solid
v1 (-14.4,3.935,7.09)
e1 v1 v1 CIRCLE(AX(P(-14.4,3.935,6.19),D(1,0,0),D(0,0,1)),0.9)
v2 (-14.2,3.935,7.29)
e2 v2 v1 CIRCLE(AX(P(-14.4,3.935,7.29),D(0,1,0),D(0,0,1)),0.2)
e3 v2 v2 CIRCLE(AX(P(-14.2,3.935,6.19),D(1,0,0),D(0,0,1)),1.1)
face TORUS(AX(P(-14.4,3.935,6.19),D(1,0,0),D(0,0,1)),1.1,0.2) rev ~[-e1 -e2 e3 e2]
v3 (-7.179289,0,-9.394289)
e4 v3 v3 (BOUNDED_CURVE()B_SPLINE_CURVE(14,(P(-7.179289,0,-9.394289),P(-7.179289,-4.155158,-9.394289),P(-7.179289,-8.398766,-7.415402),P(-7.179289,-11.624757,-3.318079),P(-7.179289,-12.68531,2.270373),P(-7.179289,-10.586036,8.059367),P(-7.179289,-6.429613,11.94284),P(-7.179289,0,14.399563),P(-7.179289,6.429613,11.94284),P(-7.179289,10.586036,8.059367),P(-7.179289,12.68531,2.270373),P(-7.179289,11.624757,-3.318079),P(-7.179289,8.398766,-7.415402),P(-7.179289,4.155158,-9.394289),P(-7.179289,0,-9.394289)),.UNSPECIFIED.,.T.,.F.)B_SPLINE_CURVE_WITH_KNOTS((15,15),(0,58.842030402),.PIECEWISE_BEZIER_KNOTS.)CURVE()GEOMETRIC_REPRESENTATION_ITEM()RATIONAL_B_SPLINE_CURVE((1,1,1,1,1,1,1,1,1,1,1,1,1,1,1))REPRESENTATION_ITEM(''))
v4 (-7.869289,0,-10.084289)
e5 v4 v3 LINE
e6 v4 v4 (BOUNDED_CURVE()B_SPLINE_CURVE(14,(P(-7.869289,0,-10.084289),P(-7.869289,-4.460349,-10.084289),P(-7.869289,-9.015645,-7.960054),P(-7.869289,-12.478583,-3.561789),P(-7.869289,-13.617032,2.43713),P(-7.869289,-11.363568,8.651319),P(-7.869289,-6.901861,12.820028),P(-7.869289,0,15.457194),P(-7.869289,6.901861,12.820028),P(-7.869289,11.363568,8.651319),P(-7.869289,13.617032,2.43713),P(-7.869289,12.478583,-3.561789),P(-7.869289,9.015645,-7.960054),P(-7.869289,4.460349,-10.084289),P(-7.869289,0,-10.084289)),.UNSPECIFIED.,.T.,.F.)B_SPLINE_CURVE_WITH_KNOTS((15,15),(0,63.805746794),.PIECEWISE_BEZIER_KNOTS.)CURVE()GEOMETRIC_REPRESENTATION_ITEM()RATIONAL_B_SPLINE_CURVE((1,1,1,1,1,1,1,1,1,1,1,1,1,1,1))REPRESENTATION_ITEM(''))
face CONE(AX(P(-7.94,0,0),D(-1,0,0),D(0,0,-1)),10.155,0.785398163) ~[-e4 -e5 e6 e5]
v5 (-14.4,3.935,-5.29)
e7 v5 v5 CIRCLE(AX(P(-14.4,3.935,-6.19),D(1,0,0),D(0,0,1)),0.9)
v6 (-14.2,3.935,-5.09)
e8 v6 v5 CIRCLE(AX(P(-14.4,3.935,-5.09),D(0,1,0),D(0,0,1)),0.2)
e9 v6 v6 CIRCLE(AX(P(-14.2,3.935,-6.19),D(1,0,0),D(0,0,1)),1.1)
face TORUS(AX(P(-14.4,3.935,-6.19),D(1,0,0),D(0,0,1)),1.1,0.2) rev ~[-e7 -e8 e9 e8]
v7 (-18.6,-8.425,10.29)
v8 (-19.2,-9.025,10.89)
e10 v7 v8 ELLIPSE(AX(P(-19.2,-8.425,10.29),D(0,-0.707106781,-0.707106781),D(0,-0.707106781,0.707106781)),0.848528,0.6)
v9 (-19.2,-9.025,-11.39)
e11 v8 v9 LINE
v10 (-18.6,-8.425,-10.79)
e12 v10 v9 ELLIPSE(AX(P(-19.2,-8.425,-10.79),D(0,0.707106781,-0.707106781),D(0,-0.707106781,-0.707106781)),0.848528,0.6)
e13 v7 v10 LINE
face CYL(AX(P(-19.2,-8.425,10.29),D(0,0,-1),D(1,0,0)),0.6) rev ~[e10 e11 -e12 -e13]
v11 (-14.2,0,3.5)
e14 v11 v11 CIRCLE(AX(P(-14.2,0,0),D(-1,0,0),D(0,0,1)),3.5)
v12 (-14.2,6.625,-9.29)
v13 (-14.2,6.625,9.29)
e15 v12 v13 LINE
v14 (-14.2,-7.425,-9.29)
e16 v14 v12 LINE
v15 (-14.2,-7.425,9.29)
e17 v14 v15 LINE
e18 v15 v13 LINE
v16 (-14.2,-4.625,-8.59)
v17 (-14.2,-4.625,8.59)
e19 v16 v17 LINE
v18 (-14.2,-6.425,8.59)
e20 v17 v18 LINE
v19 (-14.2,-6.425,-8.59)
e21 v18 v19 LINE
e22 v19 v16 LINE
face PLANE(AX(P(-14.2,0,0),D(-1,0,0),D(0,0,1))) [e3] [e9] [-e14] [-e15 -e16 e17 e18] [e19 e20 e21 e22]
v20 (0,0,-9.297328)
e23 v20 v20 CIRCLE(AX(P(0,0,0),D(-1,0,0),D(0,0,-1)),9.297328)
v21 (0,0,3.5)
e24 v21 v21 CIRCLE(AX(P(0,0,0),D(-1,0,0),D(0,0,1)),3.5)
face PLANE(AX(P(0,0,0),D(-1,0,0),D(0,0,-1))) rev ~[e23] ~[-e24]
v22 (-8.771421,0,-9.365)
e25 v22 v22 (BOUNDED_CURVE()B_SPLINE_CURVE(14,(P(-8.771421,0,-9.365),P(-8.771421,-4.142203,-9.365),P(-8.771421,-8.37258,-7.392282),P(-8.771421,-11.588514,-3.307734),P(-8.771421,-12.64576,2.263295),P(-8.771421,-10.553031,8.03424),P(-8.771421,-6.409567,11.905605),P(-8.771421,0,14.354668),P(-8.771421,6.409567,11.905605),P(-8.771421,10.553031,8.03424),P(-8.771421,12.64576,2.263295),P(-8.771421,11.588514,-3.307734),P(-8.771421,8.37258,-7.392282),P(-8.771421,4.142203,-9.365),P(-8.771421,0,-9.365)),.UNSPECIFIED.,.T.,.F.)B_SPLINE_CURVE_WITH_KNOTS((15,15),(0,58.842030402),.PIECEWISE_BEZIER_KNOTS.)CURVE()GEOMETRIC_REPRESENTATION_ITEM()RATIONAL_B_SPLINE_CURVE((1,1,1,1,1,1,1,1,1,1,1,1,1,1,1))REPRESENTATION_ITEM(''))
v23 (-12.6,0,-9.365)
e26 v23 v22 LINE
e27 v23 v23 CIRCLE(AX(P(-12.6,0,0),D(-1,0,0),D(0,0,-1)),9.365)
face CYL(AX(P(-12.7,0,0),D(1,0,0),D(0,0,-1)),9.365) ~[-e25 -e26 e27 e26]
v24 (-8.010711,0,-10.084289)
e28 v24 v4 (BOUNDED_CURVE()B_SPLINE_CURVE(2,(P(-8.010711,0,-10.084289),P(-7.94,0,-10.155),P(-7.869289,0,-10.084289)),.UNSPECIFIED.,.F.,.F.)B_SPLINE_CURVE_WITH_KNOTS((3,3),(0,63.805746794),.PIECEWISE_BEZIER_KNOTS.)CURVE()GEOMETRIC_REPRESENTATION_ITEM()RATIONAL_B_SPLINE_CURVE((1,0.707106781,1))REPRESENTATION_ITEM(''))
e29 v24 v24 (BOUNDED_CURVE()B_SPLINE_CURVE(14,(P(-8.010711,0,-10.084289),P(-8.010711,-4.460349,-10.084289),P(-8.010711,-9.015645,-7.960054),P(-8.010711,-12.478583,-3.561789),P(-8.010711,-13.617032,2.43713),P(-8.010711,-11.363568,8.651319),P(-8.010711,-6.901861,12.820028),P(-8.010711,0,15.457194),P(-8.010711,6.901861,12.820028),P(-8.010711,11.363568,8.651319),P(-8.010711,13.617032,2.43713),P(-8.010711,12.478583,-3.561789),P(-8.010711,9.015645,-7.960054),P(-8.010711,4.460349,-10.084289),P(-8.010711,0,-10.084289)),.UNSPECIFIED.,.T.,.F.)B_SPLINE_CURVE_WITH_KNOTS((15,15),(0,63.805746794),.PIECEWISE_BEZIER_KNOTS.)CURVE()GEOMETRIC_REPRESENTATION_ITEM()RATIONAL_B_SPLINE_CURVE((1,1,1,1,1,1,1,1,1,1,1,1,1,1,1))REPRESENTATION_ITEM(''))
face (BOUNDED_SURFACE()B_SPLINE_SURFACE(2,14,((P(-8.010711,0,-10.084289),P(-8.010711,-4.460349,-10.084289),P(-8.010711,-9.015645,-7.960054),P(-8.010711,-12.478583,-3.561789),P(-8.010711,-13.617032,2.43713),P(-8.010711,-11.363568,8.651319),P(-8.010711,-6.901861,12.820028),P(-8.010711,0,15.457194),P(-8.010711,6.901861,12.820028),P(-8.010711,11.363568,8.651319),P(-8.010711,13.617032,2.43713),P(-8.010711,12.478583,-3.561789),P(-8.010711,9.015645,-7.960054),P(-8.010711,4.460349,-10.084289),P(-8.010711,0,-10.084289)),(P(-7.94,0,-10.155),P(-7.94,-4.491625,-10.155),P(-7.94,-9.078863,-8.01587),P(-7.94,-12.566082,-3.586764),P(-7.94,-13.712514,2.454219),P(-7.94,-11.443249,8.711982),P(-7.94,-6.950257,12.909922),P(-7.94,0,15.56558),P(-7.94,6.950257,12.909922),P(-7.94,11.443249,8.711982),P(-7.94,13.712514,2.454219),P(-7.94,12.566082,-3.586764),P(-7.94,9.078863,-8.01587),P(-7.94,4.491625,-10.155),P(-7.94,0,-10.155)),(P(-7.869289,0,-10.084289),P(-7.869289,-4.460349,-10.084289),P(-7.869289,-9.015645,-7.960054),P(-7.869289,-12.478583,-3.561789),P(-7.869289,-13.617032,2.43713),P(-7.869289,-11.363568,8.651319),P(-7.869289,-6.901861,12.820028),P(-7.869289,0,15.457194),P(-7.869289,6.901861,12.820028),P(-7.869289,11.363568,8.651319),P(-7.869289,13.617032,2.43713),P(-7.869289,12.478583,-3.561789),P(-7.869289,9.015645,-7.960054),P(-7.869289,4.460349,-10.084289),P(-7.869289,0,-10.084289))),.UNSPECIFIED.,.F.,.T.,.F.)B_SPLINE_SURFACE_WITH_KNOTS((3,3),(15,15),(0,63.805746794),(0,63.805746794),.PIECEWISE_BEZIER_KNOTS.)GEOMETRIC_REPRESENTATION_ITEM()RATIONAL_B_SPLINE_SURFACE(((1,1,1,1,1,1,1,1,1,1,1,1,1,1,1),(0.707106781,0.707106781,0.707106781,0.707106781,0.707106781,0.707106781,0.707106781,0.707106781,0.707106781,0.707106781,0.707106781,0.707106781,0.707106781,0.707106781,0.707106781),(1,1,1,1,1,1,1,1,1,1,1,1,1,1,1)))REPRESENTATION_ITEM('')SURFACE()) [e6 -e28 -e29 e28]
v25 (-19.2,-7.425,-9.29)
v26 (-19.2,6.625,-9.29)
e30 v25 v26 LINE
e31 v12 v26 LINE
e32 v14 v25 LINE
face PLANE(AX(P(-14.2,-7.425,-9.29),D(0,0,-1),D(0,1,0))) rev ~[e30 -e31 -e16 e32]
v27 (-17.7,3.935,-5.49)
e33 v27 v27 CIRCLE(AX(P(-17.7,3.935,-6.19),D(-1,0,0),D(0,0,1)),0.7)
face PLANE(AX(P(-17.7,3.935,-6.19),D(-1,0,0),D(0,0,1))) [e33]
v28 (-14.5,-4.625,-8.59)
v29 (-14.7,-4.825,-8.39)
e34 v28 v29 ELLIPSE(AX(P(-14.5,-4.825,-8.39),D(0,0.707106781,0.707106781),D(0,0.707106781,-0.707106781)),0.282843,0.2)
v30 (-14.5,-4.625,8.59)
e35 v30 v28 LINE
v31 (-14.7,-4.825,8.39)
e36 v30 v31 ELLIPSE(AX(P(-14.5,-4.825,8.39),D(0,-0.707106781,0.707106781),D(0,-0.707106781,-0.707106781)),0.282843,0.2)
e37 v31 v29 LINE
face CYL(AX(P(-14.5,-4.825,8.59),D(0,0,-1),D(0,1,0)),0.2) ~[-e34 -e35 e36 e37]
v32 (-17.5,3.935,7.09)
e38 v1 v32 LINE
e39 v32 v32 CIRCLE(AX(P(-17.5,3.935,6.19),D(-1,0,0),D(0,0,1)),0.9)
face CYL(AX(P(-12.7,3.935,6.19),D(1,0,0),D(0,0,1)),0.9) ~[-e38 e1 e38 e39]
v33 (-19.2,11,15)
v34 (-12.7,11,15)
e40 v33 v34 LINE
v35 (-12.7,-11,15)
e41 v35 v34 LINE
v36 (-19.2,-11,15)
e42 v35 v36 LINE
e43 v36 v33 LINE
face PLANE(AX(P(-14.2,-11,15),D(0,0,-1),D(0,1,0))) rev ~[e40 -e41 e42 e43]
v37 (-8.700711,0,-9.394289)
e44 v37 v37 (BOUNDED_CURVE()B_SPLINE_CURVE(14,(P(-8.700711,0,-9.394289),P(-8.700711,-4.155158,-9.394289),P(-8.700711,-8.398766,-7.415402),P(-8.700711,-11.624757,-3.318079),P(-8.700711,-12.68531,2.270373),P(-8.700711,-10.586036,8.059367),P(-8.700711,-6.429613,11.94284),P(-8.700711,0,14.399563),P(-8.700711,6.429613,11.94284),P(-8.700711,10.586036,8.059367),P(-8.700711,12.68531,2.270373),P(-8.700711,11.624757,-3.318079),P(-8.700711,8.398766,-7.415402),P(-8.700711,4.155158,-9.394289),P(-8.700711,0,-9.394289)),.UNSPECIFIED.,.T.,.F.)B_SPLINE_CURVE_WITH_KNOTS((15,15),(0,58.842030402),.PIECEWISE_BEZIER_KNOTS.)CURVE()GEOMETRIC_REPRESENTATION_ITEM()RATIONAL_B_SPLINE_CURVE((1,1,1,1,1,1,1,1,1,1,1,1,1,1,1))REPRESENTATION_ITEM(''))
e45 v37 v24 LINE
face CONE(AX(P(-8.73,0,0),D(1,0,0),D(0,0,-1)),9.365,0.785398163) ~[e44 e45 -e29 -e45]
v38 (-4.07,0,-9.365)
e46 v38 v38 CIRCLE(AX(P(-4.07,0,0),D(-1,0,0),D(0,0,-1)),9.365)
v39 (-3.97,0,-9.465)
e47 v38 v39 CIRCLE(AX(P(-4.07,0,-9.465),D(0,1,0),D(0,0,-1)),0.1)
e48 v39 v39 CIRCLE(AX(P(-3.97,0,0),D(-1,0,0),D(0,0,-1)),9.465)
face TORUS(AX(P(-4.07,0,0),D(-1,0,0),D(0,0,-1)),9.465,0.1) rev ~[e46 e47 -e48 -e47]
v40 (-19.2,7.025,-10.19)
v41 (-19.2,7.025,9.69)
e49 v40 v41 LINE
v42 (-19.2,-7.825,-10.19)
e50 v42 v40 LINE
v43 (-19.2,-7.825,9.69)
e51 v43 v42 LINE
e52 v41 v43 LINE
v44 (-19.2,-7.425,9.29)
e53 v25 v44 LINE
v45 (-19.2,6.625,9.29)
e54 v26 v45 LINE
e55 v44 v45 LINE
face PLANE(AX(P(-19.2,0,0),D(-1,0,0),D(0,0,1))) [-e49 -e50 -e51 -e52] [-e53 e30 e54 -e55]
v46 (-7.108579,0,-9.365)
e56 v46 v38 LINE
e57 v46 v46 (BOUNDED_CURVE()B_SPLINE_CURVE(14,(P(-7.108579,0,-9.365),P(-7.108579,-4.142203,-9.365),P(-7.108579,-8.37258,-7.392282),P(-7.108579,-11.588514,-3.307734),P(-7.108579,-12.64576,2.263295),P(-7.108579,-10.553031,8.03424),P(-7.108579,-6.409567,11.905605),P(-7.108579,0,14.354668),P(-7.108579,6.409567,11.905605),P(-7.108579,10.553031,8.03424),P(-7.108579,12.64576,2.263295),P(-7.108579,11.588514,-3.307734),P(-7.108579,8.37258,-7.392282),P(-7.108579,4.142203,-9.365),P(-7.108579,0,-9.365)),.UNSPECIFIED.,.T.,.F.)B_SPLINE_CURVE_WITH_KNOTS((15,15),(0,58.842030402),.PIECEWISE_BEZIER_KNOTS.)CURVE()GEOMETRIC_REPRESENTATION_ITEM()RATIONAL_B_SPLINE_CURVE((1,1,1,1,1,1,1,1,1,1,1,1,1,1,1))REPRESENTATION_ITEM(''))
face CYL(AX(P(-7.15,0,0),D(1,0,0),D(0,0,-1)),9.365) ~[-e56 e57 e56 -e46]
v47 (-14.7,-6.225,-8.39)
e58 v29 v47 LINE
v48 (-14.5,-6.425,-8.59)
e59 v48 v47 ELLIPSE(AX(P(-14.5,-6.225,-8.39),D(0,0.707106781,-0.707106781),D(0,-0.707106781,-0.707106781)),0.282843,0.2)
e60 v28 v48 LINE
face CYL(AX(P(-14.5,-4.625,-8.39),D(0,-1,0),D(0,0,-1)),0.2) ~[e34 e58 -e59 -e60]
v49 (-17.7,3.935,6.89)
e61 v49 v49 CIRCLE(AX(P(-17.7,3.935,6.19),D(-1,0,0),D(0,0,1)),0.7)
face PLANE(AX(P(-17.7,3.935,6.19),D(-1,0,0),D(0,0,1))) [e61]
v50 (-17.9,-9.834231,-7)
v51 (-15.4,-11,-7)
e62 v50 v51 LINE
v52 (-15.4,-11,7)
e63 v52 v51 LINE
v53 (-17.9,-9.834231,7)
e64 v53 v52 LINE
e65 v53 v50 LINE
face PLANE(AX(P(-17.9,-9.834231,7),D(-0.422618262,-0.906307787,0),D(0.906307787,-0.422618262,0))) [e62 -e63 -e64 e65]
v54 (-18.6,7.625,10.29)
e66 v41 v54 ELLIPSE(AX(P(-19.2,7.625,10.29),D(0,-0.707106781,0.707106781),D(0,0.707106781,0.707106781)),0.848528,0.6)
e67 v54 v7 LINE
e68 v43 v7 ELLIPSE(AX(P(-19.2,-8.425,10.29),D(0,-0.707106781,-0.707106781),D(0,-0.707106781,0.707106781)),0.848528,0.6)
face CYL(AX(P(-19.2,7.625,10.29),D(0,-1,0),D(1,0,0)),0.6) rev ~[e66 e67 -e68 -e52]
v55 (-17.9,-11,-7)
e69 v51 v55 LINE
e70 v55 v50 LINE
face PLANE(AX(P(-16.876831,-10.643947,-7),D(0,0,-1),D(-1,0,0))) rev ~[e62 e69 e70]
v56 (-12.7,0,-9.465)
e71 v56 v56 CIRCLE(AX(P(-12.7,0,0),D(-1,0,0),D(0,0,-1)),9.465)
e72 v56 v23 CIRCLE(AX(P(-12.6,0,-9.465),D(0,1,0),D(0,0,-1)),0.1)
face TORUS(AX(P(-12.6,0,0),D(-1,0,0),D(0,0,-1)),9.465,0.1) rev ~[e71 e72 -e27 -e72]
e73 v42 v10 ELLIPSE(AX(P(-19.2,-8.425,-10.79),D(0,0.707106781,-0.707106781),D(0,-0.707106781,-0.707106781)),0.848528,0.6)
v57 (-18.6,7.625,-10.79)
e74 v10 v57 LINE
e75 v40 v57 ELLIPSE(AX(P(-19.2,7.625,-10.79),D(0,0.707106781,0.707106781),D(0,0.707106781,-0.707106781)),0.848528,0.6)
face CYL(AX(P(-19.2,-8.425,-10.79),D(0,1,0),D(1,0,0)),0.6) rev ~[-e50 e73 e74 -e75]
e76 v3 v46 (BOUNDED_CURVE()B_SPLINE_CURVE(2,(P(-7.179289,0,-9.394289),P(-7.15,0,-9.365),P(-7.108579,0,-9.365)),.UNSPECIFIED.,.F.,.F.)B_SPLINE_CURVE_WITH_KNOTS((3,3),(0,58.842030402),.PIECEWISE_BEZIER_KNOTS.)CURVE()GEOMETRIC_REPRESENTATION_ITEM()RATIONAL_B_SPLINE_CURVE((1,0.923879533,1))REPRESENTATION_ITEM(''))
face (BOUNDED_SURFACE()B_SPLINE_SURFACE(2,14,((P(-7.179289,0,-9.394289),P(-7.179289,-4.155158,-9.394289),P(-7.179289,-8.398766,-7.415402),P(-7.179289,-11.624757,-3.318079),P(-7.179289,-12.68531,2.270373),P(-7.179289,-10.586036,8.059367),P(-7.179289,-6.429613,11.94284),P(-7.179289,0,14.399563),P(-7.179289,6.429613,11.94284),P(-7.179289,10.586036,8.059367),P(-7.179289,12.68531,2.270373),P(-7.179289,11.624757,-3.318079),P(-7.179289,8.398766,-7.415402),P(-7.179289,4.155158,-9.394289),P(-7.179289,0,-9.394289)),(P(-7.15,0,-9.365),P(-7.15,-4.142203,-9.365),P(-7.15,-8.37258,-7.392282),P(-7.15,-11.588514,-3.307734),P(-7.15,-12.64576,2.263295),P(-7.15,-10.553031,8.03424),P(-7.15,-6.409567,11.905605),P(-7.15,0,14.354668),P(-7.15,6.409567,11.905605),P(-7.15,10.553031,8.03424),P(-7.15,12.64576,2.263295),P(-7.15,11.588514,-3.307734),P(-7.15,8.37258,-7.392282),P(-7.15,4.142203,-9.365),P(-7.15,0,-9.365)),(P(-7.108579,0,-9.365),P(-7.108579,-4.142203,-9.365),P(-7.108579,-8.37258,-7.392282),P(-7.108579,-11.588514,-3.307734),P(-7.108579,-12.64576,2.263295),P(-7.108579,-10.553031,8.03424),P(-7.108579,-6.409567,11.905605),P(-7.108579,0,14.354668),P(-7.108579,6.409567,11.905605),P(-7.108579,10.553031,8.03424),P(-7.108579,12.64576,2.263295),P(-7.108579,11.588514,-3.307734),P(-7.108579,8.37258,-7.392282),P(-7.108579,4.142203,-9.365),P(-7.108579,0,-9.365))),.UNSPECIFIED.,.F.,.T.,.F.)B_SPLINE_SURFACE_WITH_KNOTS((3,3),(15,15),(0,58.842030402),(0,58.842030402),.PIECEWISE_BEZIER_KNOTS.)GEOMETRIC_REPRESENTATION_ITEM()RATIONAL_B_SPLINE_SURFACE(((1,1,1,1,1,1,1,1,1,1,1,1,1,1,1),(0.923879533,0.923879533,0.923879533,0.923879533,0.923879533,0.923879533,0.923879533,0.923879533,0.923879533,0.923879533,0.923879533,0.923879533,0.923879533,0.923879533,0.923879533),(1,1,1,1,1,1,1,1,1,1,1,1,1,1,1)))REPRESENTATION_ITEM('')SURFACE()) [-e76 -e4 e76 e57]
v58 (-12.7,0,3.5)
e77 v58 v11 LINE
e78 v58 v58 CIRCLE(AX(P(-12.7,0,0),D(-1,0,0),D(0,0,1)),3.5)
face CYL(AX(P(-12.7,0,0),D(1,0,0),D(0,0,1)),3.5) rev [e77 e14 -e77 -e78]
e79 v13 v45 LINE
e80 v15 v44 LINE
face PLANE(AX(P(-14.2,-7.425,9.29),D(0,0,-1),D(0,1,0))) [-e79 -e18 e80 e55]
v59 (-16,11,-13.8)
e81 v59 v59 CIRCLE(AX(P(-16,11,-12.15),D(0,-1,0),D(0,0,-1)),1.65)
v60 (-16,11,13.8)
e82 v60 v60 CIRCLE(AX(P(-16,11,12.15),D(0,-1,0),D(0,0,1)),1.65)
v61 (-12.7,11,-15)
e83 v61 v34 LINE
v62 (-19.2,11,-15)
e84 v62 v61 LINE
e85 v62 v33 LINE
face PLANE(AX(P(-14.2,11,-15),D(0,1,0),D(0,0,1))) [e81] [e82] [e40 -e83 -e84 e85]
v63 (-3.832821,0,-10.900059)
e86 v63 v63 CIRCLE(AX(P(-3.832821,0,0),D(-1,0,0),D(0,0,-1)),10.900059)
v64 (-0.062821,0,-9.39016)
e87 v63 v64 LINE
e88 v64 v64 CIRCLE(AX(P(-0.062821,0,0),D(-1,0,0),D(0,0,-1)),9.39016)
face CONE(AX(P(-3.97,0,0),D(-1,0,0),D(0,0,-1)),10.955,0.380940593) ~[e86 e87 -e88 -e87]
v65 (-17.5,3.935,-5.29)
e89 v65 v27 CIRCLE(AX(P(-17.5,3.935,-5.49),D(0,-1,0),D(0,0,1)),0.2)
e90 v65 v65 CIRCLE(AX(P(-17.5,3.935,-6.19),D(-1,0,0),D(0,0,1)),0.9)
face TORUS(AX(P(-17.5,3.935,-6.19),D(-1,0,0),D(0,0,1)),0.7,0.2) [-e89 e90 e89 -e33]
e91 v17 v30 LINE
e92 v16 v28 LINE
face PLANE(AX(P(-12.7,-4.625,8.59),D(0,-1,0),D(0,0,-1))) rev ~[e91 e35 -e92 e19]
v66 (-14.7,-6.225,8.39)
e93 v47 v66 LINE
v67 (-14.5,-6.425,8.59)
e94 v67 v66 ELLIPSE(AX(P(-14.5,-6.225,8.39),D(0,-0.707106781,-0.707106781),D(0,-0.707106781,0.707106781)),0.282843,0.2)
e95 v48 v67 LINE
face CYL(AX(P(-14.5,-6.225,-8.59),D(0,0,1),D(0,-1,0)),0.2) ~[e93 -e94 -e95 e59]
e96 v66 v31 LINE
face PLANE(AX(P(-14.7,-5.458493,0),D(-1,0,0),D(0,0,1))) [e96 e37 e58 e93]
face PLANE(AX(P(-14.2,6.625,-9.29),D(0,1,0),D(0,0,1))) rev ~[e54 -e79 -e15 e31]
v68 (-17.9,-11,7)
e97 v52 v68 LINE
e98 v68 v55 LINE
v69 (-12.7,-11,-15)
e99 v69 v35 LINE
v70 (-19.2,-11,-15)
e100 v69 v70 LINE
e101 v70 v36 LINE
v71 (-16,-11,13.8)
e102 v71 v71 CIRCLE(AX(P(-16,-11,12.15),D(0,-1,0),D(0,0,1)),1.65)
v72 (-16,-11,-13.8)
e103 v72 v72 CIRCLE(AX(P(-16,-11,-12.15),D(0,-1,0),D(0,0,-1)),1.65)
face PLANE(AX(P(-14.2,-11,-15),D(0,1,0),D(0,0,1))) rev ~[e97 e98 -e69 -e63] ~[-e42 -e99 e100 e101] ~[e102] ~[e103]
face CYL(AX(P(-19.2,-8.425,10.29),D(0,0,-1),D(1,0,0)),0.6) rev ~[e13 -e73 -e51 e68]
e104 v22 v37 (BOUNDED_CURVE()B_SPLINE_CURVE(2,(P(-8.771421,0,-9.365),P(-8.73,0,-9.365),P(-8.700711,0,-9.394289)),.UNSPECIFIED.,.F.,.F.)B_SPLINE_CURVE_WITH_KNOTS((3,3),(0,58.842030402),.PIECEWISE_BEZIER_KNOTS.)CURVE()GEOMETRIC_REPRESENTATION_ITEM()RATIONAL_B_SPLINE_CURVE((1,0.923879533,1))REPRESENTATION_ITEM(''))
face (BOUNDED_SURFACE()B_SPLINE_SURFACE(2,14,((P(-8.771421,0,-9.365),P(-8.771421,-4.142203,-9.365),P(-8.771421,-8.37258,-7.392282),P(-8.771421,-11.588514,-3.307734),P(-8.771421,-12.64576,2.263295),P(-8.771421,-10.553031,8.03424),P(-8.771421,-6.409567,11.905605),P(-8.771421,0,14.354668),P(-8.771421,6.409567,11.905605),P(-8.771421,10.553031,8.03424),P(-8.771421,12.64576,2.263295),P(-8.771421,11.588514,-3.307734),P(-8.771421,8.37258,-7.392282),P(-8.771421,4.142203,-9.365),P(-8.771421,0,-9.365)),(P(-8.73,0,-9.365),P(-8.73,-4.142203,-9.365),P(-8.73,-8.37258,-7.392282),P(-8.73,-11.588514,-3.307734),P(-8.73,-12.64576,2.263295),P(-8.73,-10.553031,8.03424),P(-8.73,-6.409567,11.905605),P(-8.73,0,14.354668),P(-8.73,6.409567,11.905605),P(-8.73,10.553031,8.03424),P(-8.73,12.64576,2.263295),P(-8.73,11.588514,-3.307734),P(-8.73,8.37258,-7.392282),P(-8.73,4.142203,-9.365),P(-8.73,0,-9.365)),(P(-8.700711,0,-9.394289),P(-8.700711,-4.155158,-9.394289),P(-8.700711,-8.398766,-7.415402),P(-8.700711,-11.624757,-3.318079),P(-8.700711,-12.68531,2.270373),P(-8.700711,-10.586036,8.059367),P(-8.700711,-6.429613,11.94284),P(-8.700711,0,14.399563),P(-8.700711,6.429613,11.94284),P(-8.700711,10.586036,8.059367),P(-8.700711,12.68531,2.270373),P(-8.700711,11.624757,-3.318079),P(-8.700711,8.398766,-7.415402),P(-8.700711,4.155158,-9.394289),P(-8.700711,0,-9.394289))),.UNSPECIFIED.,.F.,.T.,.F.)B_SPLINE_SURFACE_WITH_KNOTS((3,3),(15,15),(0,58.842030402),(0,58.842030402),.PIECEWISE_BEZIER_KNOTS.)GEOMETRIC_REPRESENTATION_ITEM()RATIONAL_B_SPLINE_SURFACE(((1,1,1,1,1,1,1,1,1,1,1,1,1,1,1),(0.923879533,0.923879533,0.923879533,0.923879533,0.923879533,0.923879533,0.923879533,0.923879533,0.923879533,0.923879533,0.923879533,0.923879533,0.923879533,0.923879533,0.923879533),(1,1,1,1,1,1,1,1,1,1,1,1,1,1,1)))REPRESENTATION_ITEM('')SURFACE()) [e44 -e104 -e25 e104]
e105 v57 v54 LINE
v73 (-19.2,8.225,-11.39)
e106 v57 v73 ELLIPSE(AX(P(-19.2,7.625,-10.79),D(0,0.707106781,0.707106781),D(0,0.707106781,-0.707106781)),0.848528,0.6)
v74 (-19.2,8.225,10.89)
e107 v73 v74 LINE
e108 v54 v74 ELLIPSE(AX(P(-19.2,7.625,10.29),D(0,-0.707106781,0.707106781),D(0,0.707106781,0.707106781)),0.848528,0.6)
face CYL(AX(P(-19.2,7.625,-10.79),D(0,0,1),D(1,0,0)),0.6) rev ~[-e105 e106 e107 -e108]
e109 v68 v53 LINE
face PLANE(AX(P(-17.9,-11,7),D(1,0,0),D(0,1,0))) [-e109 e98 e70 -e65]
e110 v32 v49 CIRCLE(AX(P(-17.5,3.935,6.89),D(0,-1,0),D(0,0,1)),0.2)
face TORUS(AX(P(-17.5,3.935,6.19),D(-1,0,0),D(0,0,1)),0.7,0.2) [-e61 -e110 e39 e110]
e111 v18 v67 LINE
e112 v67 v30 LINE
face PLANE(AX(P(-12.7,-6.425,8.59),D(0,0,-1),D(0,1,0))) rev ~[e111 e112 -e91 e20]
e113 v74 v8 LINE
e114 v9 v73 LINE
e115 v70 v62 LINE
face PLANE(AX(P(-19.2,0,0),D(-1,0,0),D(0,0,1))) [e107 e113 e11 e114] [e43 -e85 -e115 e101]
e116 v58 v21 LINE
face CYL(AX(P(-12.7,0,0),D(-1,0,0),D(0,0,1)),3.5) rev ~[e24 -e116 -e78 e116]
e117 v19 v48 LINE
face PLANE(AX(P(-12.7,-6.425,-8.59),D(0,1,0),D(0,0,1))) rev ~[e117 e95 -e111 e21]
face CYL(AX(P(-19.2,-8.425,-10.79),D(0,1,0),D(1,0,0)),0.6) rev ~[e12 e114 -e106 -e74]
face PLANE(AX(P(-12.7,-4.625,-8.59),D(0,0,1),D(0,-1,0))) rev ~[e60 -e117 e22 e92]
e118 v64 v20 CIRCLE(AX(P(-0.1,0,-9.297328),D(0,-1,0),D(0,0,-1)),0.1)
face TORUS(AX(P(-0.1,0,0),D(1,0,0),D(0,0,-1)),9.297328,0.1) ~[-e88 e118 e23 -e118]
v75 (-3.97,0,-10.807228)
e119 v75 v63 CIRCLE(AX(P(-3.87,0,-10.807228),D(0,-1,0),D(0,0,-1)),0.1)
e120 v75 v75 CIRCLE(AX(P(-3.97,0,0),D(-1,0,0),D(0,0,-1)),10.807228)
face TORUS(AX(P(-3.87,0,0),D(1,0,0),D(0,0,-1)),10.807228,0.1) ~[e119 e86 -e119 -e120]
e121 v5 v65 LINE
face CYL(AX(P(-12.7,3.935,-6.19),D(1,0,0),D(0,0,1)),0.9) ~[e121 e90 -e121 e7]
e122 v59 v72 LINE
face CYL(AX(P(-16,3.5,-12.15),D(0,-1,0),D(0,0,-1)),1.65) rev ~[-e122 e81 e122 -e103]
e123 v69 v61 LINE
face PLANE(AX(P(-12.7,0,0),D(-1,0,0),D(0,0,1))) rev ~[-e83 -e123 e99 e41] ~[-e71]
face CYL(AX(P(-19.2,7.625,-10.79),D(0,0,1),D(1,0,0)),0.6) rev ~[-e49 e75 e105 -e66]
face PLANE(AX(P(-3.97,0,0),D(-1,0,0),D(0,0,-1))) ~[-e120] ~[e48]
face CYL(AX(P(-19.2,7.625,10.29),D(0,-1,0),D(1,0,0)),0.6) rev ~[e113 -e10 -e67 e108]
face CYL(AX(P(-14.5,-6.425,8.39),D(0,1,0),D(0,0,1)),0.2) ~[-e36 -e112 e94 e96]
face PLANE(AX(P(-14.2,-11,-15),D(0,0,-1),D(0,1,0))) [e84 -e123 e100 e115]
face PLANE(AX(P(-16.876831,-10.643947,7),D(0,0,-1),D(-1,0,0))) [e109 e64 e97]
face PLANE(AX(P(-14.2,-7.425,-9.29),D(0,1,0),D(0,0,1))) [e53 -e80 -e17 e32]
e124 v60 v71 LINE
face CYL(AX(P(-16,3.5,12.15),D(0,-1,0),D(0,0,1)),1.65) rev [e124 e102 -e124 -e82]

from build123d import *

# Parameters (mm, degrees)
SKETCH2_W               = 30
SKETCH2_H               = 22
SKETCH2_R               = 3.5
BOSS_EXTRUDE1_DEPTH     = 1.5
BOSS_EXTRUDE2_DEPTH     = 2
SKETCH2_4_R             = 0.9
BOSS_EXTRUDE3_DEPTH     = 5
SKETCH2_5_R             = 3.5
SKETCH2_5_W             = 2.46
SKETCH2_5_H             = 4.35
CUT_EXTRUDE1_DEPTH      = 23.523099254
BOSS_EXTRUDE4_START     = 1.5
SKETCH2_6_W             = 30
SKETCH2_6_H             = 22
SKETCH2_6_W_2           = 18.58
SKETCH2_6_H_2           = 14.05
BOSS_EXTRUDE4_DEPTH     = 5
FILLET1_R               = 0.1
FILLET4_R               = 0.2
FILLET5_R               = 0.2
SKETCH4_R               = 1.65
CUT_EXTRUDE2_DEPTH      = 29.352953991
CUT_EXTRUDE3_DEPTH      = 7
CUT_EXTRUDE3_DEPTH_BACK = 7
CUT_SWEEP1_PROFILE_R    = 0.6
FILLET6_R               = 0.2


with BuildPart() as part:
    # Sketch1 → Revolve1 (revolve)
    with BuildSketch(Plane(origin=(0, 0, 0), x_dir=(1, 0, 0), z_dir=(0, 1, 0))):
        Polygon((0, 0), (-12.7, 0), (-12.7, 9.365), (-8.73, 9.365), (-7.94, 10.155), (-7.15, 9.365), (-3.97, 9.365), (-3.97, 10.955), (0, 9.365), align=None)
    revolve(axis=Axis((0, 0, 0), (-1, 0, 0)))

    # Sketch2 → Boss-Extrude1 (add)
    with BuildSketch(Plane.ZY.offset(12.7)):
        Rectangle(SKETCH2_W, SKETCH2_H)
        Circle(SKETCH2_R, mode=Mode.SUBTRACT)
    extrude(amount=BOSS_EXTRUDE1_DEPTH)

    # Sketch2<3> → Boss-Extrude2 (add)
    with BuildSketch(Plane.ZY.offset(12.7)):
        with BuildLine():
            ThreePointArc((-8.143254878, -4.625), (-7.532295819, -5.564866997), (-6.813413242, -6.425))
            Line((-6.813413242, -6.425), (6.813413242, -6.425))
            ThreePointArc((6.813413242, -6.425), (7.532295819, -5.564866997), (8.143254878, -4.625))
            Line((8.143254878, -4.625), (-8.143254878, -4.625))
        make_face()
        with BuildLine():
            ThreePointArc((8.143254878, -4.625), (7.532295819, -5.564866997), (6.813413242, -6.425))
            Line((6.813413242, -6.425), (8.59, -6.425))
            Line((8.59, -6.425), (8.59, -4.625))
            Line((8.59, -4.625), (8.143254878, -4.625))
        make_face()
        with BuildLine():
            Line((-8.59, -4.625), (-8.59, -6.425))
            Line((-8.59, -6.425), (-6.813413242, -6.425))
            ThreePointArc((-6.813413242, -6.425), (-7.532295819, -5.564866997), (-8.143254878, -4.625))
            Line((-8.143254878, -4.625), (-8.59, -4.625))
        make_face()
    extrude(amount=BOSS_EXTRUDE2_DEPTH)

    # Sketch2<4> → Boss-Extrude3 (add)
    with BuildSketch(Plane.ZY.offset(12.7)):
        with Locations((6.19, 3.935)):
            Circle(SKETCH2_4_R)
        with Locations((-6.19, 3.935)):
            Circle(SKETCH2_4_R)
    extrude(amount=BOSS_EXTRUDE3_DEPTH)

    # Sketch2<5> → Cut-Extrude1 (cut, through all)
    # profile 1 of 2: a face of its own
    with BuildSketch(Plane.ZY.offset(12.7)):
        Circle(SKETCH2_5_R)
        with Locations((-0.31, 0.56)):
            Rectangle(SKETCH2_5_W, SKETCH2_5_H, mode=Mode.SUBTRACT)
    # profile 2 of 2: a face of its own
    with BuildSketch(Plane.ZY.offset(12.7)):
        with Locations((-0.31, 0.56)):
            Rectangle(SKETCH2_5_W, SKETCH2_5_H)
    extrude(amount=-CUT_EXTRUDE1_DEPTH, mode=Mode.SUBTRACT)

    # Sketch2<6> → Boss-Extrude4 (add)
    with BuildSketch(Plane.ZY.offset(12.7).offset(BOSS_EXTRUDE4_START)):
        Rectangle(SKETCH2_6_W, SKETCH2_6_H)
        with Locations((0, -0.4)):
            Rectangle(SKETCH2_6_W_2, SKETCH2_6_H_2, mode=Mode.SUBTRACT)
    extrude(amount=BOSS_EXTRUDE4_DEPTH)

    # Fillet1
    fillet1_edges = [part.edges().sort_by_distance(p)[0] for p in [
        (-3.97, 0, 9.365),
        (-3.97, 0, 10.955),
        (0, 0, 9.365),
        (-12.7, 0, 9.365),
        (-8.73, 0, 9.365),
        (-7.94, 0, 10.155),
        (-7.15, 0, 9.365),
    ]]
    fillet(fillet1_edges, radius=FILLET1_R)

    # Fillet4
    fillet4_edges = [part.edges().sort_by_distance(p)[0] for p in [
        (-17.7, 3.935, 5.29),
        (-17.7, 3.935, -7.09),
    ]]
    fillet(fillet4_edges, radius=FILLET4_R)

    # Fillet5
    fillet5_edges = [part.edges().sort_by_distance(p)[0] for p in [
        (-14.7, -4.625, 0),
        (-14.7, -5.525, -8.59),
        (-14.7, -6.425, 0),
        (-14.7, -5.525, 8.59),
    ]]
    fillet(fillet5_edges, radius=FILLET5_R)

    # Sketch4 → Cut-Extrude2 (cut, symmetric)
    with BuildSketch(Plane(origin=(0, 3.5, 0), x_dir=(-1, 0, 0), z_dir=(0, -1, 0))):
        with Locations(Location((16, 12.15, 0), (0, 0, 90))):
            Circle(SKETCH4_R)
    cut_extrude2 = extrude(amount=CUT_EXTRUDE2_DEPTH, both=True, mode=Mode.SUBTRACT)

    # Mirror1: Cut-Extrude2 across plane
    add(cut_extrude2.mirror(Plane(origin=(0, 0, 0), x_dir=(1, 0, 0), z_dir=(0, 0, -1))), mode=Mode.SUBTRACT)

    # Sketch5 → Cut-Extrude3 (cut, two sides: drawn at the far end of the back side and taken through both)
    with BuildSketch(Plane(origin=(0, 0, 0), x_dir=(-1, 0, 0), z_dir=(0, 0, -1)).offset(-CUT_EXTRUDE3_DEPTH_BACK)):
        Polygon((17.9, -11), (17.9, -9.834230855), (15.4, -11), align=None)
    extrude(amount=CUT_EXTRUDE3_DEPTH + CUT_EXTRUDE3_DEPTH_BACK, mode=Mode.SUBTRACT)

    # Cut-Sweep1: sweep along a path in Sketch6
    with BuildLine(Plane.ZY.offset(19.2)) as cut_sweep1_path:
        Line((-10.79, 7.625), (10.29, 7.625))
        Line((10.29, 7.625), (10.29, -8.425))
        Line((10.29, -8.425), (-10.79, -8.425))
        Line((-10.79, -8.425), (-10.79, 7.625))
    # Cut-Sweep1 profile (on start of the path) → Cut-Sweep1 (sweep, cut)
    with BuildSketch(Plane(origin=(-19.2, 7.625, -10.79), x_dir=(1, 0, 0), z_dir=(0, 0, 1))):
        Circle(CUT_SWEEP1_PROFILE_R)
    sweep(path=cut_sweep1_path.line, transition=Transition.RIGHT, mode=Mode.SUBTRACT)

    # Fillet6
    fillet6_edges = [part.edges().sort_by_distance(p)[0] for p in [
        (-14.2, 3.935, 5.29),
        (-14.2, 3.935, -7.09),
    ]]
    fillet(fillet6_edges, radius=FILLET6_R)


solid = part.part
